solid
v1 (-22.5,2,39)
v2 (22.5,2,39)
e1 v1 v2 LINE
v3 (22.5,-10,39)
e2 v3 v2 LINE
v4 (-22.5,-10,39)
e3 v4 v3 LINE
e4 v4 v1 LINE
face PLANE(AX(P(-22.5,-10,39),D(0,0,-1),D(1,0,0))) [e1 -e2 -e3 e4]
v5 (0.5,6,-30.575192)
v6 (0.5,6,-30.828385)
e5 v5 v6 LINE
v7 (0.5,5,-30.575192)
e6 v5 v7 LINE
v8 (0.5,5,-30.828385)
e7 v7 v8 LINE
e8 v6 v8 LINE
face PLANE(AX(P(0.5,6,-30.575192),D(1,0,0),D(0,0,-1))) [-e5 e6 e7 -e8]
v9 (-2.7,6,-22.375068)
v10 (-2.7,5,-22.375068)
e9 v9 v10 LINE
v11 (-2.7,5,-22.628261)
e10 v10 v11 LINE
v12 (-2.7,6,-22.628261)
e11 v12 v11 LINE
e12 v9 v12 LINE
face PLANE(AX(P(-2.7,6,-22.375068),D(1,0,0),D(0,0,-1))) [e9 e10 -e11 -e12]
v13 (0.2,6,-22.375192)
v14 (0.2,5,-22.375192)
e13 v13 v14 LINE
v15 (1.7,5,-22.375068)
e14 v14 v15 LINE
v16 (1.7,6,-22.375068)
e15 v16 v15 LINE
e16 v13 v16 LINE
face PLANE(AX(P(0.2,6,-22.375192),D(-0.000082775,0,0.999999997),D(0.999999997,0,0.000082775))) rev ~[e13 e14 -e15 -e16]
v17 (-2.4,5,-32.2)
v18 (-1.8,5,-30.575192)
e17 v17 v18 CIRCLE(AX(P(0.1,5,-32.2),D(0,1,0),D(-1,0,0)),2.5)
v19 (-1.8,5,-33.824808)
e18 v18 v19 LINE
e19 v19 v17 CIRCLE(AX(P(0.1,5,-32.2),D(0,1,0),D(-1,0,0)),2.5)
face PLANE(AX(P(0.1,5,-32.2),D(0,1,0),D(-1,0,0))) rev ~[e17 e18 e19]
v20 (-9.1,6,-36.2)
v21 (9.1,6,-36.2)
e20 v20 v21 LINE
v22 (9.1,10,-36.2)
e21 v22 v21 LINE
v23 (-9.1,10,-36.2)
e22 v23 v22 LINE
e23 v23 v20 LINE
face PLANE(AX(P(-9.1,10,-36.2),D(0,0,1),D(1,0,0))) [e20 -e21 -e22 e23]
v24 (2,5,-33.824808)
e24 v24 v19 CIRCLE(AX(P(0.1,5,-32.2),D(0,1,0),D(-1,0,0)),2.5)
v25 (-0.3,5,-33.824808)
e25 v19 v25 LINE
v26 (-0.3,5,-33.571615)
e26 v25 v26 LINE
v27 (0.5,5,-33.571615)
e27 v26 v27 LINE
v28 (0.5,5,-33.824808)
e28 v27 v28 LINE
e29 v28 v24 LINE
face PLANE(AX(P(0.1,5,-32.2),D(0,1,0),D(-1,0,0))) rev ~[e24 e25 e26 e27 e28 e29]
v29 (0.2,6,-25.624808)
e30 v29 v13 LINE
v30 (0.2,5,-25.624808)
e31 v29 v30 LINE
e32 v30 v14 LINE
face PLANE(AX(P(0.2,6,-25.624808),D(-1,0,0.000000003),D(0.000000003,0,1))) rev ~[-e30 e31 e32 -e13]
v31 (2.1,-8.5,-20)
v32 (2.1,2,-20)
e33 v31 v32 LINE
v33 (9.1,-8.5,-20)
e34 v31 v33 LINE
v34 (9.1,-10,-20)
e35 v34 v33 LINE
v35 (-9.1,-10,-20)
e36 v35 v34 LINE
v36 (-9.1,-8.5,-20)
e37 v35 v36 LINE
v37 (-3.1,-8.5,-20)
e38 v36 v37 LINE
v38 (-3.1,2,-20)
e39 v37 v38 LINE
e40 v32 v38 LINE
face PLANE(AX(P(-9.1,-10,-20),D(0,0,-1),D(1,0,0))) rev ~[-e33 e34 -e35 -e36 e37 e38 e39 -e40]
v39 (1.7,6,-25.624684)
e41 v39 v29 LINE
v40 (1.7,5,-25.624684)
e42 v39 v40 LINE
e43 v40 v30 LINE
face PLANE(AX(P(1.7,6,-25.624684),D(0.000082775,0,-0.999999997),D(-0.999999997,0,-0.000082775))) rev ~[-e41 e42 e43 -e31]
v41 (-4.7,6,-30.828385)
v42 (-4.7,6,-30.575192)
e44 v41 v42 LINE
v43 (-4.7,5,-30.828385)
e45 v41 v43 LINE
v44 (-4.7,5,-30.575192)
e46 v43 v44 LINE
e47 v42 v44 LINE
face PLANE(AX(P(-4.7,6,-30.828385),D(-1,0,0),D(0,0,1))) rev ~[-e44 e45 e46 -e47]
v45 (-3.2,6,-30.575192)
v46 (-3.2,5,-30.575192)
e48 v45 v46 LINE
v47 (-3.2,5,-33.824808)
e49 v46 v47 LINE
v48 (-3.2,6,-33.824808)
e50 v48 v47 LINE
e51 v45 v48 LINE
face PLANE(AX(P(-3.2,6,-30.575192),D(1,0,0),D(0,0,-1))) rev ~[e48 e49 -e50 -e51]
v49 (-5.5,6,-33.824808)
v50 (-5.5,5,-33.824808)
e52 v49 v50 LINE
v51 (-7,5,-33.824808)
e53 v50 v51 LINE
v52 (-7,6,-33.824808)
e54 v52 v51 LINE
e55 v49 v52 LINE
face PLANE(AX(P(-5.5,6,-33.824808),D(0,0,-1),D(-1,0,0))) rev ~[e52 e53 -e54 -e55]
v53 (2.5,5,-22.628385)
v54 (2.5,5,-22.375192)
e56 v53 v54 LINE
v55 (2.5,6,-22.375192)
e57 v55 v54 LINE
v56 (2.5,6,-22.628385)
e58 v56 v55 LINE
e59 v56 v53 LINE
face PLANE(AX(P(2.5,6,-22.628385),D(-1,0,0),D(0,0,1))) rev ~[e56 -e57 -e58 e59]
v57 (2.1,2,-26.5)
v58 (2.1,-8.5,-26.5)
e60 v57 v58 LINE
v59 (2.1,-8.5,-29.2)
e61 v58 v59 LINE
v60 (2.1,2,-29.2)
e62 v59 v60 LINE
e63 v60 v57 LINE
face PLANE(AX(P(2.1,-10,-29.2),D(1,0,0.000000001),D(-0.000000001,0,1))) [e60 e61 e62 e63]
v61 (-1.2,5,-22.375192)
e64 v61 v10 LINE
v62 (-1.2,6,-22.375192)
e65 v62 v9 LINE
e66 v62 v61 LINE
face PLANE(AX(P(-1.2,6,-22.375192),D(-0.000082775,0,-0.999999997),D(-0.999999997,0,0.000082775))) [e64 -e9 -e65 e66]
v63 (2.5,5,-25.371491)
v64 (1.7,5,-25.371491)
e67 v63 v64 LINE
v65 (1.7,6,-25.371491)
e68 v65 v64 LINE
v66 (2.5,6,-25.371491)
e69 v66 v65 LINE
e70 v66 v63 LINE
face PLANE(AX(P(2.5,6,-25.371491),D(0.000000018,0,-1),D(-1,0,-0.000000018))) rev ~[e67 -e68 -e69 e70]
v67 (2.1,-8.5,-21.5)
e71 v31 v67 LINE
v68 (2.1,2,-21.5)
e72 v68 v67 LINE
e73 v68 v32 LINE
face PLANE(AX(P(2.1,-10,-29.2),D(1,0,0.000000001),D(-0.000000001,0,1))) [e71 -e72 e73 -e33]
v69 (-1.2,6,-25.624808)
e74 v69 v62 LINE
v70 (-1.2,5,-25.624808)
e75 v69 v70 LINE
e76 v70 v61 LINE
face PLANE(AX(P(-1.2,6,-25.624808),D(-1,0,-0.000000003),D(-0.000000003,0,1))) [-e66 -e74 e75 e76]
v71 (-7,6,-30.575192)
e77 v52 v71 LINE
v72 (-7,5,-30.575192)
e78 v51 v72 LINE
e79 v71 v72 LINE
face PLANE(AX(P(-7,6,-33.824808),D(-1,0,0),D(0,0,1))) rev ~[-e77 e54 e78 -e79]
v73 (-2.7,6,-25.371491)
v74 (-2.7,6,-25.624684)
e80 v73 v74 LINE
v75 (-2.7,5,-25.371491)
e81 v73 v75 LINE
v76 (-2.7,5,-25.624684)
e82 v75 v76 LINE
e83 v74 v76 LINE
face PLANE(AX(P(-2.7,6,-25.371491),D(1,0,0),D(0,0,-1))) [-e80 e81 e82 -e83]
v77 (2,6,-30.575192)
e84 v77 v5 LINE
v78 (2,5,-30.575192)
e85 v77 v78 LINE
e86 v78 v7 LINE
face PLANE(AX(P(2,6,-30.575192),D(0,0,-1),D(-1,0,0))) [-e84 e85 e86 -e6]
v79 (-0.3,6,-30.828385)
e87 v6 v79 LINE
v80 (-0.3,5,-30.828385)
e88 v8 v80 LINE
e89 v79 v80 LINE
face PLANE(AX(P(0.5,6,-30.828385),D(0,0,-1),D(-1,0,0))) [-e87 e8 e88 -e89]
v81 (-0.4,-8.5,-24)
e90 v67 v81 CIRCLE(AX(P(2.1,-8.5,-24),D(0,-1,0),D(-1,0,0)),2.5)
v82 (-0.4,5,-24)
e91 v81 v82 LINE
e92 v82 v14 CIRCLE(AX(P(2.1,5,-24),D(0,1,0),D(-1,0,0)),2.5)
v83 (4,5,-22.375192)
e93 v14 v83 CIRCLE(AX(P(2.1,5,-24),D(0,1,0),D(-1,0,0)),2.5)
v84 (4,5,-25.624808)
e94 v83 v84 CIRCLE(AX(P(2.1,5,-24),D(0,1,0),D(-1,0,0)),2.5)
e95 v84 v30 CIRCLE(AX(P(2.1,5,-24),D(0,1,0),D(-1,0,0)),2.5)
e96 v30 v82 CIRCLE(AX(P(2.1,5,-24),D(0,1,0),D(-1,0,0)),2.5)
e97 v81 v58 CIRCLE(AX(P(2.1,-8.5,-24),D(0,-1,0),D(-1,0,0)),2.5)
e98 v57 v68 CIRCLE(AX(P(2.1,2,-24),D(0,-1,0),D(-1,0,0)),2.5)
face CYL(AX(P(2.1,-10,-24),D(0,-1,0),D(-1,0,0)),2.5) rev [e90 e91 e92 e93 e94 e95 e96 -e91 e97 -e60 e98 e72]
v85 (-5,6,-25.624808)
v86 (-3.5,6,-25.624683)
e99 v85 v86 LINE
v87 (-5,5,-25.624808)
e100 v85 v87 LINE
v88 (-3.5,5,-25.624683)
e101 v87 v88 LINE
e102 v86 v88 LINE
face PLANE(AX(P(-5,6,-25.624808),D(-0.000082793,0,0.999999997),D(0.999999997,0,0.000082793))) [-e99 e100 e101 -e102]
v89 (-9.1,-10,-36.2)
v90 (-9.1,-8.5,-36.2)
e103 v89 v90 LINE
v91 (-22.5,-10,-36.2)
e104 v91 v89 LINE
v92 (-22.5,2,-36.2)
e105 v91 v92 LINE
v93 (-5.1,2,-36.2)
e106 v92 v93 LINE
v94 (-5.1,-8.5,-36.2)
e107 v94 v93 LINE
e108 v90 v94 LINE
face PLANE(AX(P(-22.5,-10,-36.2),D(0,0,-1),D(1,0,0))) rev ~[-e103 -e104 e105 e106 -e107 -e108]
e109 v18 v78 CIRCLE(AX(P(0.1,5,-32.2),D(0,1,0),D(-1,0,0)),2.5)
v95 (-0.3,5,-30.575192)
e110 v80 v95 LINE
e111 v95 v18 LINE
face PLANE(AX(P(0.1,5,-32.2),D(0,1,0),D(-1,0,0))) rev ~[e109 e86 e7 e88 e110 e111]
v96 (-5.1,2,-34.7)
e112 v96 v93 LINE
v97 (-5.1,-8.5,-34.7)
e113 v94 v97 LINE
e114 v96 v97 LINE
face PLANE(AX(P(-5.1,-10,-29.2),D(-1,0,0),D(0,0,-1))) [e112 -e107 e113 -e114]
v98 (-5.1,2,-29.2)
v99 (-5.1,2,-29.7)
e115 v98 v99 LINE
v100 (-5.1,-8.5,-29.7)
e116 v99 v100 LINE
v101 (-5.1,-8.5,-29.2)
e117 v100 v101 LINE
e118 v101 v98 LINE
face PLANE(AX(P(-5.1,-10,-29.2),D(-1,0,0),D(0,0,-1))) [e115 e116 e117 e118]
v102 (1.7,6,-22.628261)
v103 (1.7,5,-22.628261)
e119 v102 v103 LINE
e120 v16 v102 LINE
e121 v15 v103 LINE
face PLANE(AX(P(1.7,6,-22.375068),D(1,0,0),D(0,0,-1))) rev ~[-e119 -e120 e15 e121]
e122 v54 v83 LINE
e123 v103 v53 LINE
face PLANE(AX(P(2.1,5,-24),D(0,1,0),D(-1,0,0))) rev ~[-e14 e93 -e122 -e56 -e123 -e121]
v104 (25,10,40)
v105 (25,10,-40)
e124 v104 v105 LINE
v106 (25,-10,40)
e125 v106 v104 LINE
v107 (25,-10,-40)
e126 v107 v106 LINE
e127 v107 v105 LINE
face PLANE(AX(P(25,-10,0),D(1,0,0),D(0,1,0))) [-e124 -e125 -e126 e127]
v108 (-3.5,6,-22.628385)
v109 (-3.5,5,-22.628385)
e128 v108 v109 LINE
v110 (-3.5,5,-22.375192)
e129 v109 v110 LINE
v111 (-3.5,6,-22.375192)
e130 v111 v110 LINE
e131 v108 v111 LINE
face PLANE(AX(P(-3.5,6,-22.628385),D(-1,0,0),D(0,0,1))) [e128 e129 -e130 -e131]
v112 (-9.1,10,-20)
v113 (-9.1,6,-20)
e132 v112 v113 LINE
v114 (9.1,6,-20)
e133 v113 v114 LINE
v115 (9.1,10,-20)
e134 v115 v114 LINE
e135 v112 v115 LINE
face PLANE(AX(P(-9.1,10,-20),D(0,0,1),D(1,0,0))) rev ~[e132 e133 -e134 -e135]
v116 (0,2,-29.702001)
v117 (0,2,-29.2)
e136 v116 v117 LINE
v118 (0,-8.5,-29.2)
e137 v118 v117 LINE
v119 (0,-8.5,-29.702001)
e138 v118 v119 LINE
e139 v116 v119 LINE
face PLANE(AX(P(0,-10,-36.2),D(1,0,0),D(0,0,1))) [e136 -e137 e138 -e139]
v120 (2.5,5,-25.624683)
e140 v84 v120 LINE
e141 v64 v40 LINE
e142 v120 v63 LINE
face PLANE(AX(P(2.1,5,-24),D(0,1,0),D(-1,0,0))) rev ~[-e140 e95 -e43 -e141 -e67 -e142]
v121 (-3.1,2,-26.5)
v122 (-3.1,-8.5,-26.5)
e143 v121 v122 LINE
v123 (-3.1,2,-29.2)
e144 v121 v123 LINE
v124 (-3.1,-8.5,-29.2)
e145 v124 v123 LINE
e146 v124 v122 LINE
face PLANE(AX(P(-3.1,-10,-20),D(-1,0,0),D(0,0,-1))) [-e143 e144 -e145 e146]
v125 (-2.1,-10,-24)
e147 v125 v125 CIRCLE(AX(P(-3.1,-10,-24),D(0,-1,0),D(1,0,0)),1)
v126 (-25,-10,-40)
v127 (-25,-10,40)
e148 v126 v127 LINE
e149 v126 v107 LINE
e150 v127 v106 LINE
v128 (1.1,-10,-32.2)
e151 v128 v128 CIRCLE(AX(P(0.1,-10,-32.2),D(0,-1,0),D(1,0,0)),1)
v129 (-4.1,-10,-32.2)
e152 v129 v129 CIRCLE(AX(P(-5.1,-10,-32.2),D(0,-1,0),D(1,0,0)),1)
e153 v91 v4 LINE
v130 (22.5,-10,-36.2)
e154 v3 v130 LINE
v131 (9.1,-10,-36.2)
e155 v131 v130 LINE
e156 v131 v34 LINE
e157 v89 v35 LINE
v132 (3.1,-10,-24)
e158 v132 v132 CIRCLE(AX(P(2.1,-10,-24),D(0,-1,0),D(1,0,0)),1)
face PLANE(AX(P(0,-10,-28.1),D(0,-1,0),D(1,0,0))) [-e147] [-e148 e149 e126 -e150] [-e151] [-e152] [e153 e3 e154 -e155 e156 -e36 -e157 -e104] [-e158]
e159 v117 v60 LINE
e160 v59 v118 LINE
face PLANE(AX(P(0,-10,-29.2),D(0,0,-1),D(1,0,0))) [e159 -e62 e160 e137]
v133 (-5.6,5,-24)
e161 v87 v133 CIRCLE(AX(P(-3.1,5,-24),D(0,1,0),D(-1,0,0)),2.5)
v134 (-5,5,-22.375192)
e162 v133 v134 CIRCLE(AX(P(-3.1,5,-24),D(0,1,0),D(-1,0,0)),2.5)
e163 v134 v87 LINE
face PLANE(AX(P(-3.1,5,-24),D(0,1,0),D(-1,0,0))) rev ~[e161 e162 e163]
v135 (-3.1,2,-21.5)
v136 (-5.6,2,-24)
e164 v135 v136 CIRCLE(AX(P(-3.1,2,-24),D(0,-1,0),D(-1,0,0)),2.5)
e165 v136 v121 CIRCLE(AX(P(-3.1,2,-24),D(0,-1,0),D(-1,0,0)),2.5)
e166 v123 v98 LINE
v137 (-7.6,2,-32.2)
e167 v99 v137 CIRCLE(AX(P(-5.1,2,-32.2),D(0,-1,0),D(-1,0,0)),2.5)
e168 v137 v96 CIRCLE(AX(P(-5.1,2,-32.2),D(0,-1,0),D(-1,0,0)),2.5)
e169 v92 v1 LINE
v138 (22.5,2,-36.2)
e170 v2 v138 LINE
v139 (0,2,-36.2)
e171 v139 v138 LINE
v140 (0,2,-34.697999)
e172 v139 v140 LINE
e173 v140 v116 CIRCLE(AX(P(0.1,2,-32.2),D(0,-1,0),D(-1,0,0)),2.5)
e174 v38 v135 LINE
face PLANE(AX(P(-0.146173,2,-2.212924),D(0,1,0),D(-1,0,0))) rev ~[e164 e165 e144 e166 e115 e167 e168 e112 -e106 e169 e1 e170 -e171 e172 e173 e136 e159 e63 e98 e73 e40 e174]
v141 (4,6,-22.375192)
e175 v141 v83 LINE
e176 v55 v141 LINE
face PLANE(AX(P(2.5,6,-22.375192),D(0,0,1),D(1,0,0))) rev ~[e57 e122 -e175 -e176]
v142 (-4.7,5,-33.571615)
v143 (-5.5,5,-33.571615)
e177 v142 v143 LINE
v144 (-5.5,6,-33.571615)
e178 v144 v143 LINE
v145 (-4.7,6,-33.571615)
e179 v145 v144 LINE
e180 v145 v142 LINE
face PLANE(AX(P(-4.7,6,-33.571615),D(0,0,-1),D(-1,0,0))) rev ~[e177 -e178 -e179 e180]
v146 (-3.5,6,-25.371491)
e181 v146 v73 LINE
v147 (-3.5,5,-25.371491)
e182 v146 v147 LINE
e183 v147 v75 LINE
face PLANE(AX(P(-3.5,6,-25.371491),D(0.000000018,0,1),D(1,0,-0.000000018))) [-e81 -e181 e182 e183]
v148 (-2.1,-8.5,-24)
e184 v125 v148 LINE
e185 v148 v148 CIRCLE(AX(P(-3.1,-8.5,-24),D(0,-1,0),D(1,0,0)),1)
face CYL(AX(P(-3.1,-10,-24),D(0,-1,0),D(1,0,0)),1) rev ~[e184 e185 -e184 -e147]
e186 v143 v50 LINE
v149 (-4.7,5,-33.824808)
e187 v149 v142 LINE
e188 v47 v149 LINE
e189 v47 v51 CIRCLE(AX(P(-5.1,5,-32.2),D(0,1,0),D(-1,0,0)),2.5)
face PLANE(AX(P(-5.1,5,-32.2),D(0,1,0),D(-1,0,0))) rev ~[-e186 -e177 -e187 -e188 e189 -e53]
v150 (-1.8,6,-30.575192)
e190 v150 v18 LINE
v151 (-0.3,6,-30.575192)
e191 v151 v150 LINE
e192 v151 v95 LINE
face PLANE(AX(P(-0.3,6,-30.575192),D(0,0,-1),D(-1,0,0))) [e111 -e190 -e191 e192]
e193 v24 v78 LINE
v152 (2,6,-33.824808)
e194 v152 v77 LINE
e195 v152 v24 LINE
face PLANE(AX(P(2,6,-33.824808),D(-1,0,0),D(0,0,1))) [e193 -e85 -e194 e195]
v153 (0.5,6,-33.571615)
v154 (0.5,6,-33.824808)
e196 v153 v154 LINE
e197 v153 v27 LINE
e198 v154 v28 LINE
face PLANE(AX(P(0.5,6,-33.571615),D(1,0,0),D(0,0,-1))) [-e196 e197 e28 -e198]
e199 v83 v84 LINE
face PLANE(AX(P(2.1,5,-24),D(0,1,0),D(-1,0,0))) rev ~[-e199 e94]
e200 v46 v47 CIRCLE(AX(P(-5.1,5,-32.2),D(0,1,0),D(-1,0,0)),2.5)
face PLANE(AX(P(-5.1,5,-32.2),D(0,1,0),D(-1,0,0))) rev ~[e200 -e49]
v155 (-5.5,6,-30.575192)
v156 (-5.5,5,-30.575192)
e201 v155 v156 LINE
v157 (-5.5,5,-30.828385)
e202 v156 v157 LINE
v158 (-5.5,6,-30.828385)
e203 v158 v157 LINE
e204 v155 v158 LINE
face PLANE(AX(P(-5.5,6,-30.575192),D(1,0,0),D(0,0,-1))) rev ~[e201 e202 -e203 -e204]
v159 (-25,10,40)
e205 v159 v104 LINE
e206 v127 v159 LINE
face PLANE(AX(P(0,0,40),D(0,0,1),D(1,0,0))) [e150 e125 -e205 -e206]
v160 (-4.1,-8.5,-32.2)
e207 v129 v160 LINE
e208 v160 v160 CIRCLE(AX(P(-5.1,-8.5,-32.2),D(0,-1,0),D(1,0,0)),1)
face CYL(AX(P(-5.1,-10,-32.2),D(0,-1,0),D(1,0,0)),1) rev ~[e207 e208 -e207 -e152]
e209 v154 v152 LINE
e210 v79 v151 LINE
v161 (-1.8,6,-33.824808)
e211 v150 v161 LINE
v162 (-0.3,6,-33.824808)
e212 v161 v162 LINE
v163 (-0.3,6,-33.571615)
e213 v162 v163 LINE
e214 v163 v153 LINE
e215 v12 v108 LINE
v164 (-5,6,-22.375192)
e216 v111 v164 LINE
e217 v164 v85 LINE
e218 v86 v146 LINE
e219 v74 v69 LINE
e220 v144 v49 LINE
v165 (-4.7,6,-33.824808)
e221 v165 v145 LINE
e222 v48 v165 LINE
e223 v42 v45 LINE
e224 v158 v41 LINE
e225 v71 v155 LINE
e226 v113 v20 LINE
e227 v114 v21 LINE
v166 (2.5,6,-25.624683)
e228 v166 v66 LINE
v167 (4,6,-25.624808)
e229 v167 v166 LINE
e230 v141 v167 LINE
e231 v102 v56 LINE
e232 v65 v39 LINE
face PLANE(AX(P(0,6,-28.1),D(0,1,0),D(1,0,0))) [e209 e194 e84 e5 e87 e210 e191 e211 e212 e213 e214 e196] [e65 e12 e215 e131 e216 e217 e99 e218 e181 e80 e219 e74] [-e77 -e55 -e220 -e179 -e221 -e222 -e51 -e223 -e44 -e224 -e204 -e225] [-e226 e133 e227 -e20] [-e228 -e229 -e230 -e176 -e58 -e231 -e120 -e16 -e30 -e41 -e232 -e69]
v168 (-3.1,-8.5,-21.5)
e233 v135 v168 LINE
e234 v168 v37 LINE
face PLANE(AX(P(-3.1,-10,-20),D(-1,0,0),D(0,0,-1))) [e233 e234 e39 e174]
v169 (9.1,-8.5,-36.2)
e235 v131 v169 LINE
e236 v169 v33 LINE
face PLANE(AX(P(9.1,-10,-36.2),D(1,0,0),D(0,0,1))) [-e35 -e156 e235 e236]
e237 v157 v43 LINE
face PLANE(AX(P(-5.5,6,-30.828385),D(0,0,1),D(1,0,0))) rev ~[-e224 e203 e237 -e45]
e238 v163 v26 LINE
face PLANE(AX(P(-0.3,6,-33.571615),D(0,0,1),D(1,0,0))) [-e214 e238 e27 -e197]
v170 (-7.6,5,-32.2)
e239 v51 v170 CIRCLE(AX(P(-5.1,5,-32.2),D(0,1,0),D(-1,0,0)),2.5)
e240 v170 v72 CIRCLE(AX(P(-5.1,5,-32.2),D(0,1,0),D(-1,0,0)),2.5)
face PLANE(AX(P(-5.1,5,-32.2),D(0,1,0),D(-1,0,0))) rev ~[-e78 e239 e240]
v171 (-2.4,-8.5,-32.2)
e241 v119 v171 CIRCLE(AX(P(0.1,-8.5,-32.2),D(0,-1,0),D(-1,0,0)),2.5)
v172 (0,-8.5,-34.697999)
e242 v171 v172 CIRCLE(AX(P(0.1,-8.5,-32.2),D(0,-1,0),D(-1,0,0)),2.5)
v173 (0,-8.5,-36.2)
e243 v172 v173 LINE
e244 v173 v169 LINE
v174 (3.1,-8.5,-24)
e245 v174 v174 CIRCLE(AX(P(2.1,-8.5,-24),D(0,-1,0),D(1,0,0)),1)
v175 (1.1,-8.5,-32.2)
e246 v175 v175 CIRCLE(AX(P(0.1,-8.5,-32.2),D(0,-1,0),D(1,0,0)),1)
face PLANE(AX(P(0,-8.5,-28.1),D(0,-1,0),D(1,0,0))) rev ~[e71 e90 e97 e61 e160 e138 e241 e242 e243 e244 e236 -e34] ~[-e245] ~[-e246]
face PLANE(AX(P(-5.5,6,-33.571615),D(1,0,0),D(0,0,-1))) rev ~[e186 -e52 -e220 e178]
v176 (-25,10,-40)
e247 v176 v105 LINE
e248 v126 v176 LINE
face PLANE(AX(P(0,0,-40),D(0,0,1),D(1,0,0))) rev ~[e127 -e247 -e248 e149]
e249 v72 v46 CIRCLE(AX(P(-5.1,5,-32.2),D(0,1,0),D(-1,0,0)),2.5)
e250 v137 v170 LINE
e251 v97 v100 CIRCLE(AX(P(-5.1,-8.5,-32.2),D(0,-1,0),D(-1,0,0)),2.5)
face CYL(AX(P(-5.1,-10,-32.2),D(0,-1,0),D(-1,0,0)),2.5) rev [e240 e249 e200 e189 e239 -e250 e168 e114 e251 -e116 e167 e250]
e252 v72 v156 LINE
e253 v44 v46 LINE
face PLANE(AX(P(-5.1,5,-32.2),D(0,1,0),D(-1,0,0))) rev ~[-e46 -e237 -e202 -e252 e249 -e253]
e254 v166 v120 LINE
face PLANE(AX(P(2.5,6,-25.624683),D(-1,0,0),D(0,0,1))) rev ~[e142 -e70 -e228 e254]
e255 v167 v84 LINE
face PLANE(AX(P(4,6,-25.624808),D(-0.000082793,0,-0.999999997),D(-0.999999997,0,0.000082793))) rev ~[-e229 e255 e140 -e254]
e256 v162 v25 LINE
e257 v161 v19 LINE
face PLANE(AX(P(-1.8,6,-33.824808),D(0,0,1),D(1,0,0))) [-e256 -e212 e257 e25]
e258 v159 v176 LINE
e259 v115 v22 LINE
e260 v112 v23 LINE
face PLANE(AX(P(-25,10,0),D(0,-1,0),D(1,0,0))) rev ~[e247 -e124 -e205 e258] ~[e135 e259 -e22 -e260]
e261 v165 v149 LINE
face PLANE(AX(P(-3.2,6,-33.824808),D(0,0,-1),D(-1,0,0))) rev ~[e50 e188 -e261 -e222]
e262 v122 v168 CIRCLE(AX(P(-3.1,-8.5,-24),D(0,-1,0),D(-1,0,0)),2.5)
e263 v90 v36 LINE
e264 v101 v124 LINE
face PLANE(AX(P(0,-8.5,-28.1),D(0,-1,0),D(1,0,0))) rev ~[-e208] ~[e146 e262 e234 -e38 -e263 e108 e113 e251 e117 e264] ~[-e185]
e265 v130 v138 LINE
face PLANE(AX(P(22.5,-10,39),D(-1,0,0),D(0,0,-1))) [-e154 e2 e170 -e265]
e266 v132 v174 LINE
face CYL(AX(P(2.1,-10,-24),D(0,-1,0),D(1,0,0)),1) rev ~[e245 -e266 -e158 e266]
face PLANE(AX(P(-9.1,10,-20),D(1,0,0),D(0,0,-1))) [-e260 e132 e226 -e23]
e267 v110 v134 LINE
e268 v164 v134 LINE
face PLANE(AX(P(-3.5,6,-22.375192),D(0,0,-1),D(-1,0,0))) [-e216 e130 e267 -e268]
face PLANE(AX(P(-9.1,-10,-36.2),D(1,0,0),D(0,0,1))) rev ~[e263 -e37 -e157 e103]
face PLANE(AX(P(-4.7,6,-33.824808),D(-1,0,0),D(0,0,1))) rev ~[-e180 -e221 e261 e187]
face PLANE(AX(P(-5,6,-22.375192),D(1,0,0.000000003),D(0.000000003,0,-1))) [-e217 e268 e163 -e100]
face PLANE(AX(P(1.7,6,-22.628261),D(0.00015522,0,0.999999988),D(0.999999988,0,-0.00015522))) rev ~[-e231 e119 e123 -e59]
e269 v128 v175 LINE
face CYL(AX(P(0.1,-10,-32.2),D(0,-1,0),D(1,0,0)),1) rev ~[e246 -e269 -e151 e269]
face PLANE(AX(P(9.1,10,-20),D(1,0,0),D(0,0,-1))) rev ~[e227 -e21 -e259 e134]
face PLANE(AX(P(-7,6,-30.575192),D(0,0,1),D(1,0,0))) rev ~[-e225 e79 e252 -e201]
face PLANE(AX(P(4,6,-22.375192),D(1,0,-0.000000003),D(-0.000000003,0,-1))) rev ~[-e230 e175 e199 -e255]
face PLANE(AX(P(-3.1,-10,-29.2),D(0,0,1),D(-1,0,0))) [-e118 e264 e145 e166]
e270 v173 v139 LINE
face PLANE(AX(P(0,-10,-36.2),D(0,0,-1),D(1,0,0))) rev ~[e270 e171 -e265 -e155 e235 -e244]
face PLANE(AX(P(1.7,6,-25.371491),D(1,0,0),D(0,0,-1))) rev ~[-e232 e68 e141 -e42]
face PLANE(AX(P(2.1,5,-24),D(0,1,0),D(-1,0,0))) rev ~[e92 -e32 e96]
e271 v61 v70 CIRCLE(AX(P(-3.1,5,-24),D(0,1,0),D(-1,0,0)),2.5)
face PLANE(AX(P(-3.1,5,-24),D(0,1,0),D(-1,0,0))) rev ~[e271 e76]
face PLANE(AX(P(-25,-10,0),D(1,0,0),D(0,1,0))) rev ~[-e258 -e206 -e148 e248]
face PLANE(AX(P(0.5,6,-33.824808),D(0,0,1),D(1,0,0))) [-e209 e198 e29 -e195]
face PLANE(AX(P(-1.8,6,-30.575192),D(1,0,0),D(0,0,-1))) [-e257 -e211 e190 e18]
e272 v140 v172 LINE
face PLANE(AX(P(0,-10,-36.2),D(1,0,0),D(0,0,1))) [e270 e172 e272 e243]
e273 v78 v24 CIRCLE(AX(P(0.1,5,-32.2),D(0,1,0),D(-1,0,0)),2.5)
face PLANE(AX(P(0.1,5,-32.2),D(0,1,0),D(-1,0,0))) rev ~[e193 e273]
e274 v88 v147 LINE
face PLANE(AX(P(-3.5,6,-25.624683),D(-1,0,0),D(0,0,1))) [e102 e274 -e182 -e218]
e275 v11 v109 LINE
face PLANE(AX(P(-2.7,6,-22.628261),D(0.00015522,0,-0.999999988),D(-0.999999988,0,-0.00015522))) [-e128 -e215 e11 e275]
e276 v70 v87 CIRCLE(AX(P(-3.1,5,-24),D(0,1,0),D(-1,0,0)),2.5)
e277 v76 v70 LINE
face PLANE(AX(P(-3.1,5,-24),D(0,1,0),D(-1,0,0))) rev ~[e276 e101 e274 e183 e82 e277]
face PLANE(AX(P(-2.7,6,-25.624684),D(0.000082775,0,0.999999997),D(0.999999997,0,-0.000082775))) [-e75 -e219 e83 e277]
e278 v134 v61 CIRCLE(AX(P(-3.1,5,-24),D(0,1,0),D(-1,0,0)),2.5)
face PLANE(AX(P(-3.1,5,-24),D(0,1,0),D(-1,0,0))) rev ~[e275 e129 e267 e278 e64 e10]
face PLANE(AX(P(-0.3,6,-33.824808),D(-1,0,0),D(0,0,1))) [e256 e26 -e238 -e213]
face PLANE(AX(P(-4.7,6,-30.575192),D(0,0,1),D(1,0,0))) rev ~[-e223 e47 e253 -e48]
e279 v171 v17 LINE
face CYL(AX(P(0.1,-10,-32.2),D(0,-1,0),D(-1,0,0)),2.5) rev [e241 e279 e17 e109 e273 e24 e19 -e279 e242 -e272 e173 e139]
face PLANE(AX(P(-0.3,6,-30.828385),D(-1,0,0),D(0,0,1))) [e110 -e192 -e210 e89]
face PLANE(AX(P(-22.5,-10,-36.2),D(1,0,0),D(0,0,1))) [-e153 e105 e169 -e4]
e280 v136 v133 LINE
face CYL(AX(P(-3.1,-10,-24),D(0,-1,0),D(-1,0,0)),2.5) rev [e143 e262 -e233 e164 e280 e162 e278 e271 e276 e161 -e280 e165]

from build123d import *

# Parameters (mm, degrees)
SKETCH1_W           = 50
SKETCH1_H           = 20
BOSS_EXTRUDE1_DEPTH = 40
SKETCH2_W           = 18.2
SKETCH2_H           = 16.2
CUT_EXTRUDE1_DEPTH  = 4
CUT_EXTRUDE2_START  = -16
SKETCH3_R           = 2.5
CUT_EXTRUDE2_DEPTH  = 15
CUT_EXTRUDE3_DEPTH  = 1
CUT_EXTRUDE4_DEPTH  = 12
SKETCH7_W           = 18.2
SKETCH7_H           = 16.2
BOSS_EXTRUDE3_DEPTH = 1.5
CUT_EXTRUDE5_REACH  = 53.235
SKETCH8_R           = 1


with BuildPart() as part:
    # Sketch1 → Boss-Extrude1 (new, symmetric)
    with BuildSketch(Plane.XY):
        Rectangle(SKETCH1_W, SKETCH1_H)
    extrude(amount=BOSS_EXTRUDE1_DEPTH, both=True)

    # Sketch2 → Cut-Extrude1 (cut)
    with BuildSketch(Plane(origin=(0, 10, 0), x_dir=(1, 0, 0), z_dir=(0, 1, 0))):
        with Locations((0, 28.1)):
            Rectangle(SKETCH2_W, SKETCH2_H)
    extrude(amount=-CUT_EXTRUDE1_DEPTH, mode=Mode.SUBTRACT)

    # Sketch3 → Cut-Extrude2 (cut)
    with BuildSketch(Plane(origin=(0, 6, 0), x_dir=(1, 0, 0), z_dir=(0, 1, 0)).offset(CUT_EXTRUDE2_START)):
        with Locations(Location((-5.1, 32.2, 0), (0, 0, 180))):
            Circle(SKETCH3_R)
        with Locations(Location((0.1, 32.2, 0), (0, 0, 180))):
            Circle(SKETCH3_R)
        with Locations(Location((-3.1, 24, 0), (0, 0, 180))):
            Circle(SKETCH3_R)
        with Locations(Location((2.1, 24, 0), (0, 0, 180))):
            Circle(SKETCH3_R)
    extrude(amount=CUT_EXTRUDE2_DEPTH, mode=Mode.SUBTRACT)

    # Sketch4 → Cut-Extrude3 (cut)
    with BuildSketch(Plane(origin=(0, 6, 0), x_dir=(1, 0, 0), z_dir=(0, 1, 0))):
        Polygon((-5.5, 33.824807681), (-7, 33.824807681), (-7, 30.575192319), (-5.5, 30.575192319), (-5.5, 30.828384848), (-4.7, 30.828384848), (-4.7, 30.575192319), (-3.2, 30.575192319), (-3.2, 33.824807681), (-4.7, 33.824807681), (-4.7, 33.571615152), (-5.5, 33.571615152), align=None)
        Polygon((0.5, 30.575192319), (0.5, 30.828384848), (-0.3, 30.828384848), (-0.3, 30.575192319), (-1.8, 30.575192319), (-1.8, 33.824807681), (-0.3, 33.824807681), (-0.3, 33.571615152), (0.5, 33.571615152), (0.5, 33.824807681), (2, 33.824807681), (2, 30.575192319), align=None)
        Polygon((2.5, 22.375192325), (4.000000005, 22.375192325), (3.999999995, 25.624807687), (2.5, 25.624683497), (2.5, 25.371490969), (1.7, 25.371490983), (1.7, 25.624683512), (0.199999995, 25.624807675), (0.200000005, 22.375192313), (1.699999991, 22.37506815), (1.699999991, 22.628260678), (2.5, 22.628384854), align=None)
        Polygon((-3.5, 25.624683497), (-3.5, 25.371490969), (-2.7, 25.371490983), (-2.7, 25.624683512), (-1.199999995, 25.624807675), (-1.200000005, 22.375192313), (-2.699999991, 22.37506815), (-2.699999991, 22.628260678), (-3.5, 22.628384854), (-3.5, 22.375192325), (-5.000000005, 22.375192325), (-4.999999995, 25.624807687), align=None)
    extrude(amount=-CUT_EXTRUDE3_DEPTH, mode=Mode.SUBTRACT)

    # Sketch6 → Cut-Extrude4 (cut)
    with BuildSketch(Plane.XZ.offset(10)):
        Polygon((22.5, -36.2), (4, -36.2), (0, -36.2), (0, -29.2), (2.1, -29.2), (2.099999991, -20), (-3.1, -20), (-3.1, -29.2), (-5.1, -29.2), (-5.1, -36.2), (-9.1, -36.2), (-22.5, -36.2), (-22.5, 39), (22.5, 39), align=None)
    extrude(amount=-CUT_EXTRUDE4_DEPTH, mode=Mode.SUBTRACT)

    # Sketch7 → Boss-Extrude3 (add)
    with BuildSketch(Plane.XZ.offset(10)):
        with Locations((0, -28.1)):
            Rectangle(SKETCH7_W, SKETCH7_H)
    extrude(amount=-BOSS_EXTRUDE3_DEPTH)

    # Sketch8 → Cut-Extrude5 (cut, up to next)
    with BuildSketch(Plane.XZ.offset(10), mode=Mode.PRIVATE) as cut_extrude5_sk1:
        with Locations((-3.099999996, -24.000000006)):
            Circle(SKETCH8_R)
    cut_extrude5_tool1 = extrude(cut_extrude5_sk1.sketch, amount=-CUT_EXTRUDE5_REACH, mode=Mode.PRIVATE) & part.part
    # Sketch8 → Cut-Extrude5 (cut, up to next)
    with BuildSketch(Plane.XZ.offset(10), mode=Mode.PRIVATE) as cut_extrude5_sk2:
        with Locations((2.099999996, -24.000000006)):
            Circle(SKETCH8_R)
    cut_extrude5_tool2 = extrude(cut_extrude5_sk2.sketch, amount=-CUT_EXTRUDE5_REACH, mode=Mode.PRIVATE) & part.part
    # Sketch8 → Cut-Extrude5 (cut, up to next)
    with BuildSketch(Plane.XZ.offset(10), mode=Mode.PRIVATE) as cut_extrude5_sk3:
        with Locations((-5.1, -32.2)):
            Circle(SKETCH8_R)
    cut_extrude5_tool3 = extrude(cut_extrude5_sk3.sketch, amount=-CUT_EXTRUDE5_REACH, mode=Mode.PRIVATE) & part.part
    # Sketch8 → Cut-Extrude5 (cut, up to next)
    with BuildSketch(Plane.XZ.offset(10), mode=Mode.PRIVATE) as cut_extrude5_sk4:
        with Locations((0.1, -32.2)):
            Circle(SKETCH8_R)
    cut_extrude5_tool4 = extrude(cut_extrude5_sk4.sketch, amount=-CUT_EXTRUDE5_REACH, mode=Mode.PRIVATE) & part.part
    add(cut_extrude5_tool1.solids().sort_by_distance((-3.1, -10, -24))[0], mode=Mode.SUBTRACT)
    add(cut_extrude5_tool2.solids().sort_by_distance((2.1, -10, -24))[0], mode=Mode.SUBTRACT)
    add(cut_extrude5_tool3.solids().sort_by_distance((-5.1, -10, -32.2))[0], mode=Mode.SUBTRACT)
    add(cut_extrude5_tool4.solids().sort_by_distance((0.1, -10, -32.2))[0], mode=Mode.SUBTRACT)


solid = part.part
